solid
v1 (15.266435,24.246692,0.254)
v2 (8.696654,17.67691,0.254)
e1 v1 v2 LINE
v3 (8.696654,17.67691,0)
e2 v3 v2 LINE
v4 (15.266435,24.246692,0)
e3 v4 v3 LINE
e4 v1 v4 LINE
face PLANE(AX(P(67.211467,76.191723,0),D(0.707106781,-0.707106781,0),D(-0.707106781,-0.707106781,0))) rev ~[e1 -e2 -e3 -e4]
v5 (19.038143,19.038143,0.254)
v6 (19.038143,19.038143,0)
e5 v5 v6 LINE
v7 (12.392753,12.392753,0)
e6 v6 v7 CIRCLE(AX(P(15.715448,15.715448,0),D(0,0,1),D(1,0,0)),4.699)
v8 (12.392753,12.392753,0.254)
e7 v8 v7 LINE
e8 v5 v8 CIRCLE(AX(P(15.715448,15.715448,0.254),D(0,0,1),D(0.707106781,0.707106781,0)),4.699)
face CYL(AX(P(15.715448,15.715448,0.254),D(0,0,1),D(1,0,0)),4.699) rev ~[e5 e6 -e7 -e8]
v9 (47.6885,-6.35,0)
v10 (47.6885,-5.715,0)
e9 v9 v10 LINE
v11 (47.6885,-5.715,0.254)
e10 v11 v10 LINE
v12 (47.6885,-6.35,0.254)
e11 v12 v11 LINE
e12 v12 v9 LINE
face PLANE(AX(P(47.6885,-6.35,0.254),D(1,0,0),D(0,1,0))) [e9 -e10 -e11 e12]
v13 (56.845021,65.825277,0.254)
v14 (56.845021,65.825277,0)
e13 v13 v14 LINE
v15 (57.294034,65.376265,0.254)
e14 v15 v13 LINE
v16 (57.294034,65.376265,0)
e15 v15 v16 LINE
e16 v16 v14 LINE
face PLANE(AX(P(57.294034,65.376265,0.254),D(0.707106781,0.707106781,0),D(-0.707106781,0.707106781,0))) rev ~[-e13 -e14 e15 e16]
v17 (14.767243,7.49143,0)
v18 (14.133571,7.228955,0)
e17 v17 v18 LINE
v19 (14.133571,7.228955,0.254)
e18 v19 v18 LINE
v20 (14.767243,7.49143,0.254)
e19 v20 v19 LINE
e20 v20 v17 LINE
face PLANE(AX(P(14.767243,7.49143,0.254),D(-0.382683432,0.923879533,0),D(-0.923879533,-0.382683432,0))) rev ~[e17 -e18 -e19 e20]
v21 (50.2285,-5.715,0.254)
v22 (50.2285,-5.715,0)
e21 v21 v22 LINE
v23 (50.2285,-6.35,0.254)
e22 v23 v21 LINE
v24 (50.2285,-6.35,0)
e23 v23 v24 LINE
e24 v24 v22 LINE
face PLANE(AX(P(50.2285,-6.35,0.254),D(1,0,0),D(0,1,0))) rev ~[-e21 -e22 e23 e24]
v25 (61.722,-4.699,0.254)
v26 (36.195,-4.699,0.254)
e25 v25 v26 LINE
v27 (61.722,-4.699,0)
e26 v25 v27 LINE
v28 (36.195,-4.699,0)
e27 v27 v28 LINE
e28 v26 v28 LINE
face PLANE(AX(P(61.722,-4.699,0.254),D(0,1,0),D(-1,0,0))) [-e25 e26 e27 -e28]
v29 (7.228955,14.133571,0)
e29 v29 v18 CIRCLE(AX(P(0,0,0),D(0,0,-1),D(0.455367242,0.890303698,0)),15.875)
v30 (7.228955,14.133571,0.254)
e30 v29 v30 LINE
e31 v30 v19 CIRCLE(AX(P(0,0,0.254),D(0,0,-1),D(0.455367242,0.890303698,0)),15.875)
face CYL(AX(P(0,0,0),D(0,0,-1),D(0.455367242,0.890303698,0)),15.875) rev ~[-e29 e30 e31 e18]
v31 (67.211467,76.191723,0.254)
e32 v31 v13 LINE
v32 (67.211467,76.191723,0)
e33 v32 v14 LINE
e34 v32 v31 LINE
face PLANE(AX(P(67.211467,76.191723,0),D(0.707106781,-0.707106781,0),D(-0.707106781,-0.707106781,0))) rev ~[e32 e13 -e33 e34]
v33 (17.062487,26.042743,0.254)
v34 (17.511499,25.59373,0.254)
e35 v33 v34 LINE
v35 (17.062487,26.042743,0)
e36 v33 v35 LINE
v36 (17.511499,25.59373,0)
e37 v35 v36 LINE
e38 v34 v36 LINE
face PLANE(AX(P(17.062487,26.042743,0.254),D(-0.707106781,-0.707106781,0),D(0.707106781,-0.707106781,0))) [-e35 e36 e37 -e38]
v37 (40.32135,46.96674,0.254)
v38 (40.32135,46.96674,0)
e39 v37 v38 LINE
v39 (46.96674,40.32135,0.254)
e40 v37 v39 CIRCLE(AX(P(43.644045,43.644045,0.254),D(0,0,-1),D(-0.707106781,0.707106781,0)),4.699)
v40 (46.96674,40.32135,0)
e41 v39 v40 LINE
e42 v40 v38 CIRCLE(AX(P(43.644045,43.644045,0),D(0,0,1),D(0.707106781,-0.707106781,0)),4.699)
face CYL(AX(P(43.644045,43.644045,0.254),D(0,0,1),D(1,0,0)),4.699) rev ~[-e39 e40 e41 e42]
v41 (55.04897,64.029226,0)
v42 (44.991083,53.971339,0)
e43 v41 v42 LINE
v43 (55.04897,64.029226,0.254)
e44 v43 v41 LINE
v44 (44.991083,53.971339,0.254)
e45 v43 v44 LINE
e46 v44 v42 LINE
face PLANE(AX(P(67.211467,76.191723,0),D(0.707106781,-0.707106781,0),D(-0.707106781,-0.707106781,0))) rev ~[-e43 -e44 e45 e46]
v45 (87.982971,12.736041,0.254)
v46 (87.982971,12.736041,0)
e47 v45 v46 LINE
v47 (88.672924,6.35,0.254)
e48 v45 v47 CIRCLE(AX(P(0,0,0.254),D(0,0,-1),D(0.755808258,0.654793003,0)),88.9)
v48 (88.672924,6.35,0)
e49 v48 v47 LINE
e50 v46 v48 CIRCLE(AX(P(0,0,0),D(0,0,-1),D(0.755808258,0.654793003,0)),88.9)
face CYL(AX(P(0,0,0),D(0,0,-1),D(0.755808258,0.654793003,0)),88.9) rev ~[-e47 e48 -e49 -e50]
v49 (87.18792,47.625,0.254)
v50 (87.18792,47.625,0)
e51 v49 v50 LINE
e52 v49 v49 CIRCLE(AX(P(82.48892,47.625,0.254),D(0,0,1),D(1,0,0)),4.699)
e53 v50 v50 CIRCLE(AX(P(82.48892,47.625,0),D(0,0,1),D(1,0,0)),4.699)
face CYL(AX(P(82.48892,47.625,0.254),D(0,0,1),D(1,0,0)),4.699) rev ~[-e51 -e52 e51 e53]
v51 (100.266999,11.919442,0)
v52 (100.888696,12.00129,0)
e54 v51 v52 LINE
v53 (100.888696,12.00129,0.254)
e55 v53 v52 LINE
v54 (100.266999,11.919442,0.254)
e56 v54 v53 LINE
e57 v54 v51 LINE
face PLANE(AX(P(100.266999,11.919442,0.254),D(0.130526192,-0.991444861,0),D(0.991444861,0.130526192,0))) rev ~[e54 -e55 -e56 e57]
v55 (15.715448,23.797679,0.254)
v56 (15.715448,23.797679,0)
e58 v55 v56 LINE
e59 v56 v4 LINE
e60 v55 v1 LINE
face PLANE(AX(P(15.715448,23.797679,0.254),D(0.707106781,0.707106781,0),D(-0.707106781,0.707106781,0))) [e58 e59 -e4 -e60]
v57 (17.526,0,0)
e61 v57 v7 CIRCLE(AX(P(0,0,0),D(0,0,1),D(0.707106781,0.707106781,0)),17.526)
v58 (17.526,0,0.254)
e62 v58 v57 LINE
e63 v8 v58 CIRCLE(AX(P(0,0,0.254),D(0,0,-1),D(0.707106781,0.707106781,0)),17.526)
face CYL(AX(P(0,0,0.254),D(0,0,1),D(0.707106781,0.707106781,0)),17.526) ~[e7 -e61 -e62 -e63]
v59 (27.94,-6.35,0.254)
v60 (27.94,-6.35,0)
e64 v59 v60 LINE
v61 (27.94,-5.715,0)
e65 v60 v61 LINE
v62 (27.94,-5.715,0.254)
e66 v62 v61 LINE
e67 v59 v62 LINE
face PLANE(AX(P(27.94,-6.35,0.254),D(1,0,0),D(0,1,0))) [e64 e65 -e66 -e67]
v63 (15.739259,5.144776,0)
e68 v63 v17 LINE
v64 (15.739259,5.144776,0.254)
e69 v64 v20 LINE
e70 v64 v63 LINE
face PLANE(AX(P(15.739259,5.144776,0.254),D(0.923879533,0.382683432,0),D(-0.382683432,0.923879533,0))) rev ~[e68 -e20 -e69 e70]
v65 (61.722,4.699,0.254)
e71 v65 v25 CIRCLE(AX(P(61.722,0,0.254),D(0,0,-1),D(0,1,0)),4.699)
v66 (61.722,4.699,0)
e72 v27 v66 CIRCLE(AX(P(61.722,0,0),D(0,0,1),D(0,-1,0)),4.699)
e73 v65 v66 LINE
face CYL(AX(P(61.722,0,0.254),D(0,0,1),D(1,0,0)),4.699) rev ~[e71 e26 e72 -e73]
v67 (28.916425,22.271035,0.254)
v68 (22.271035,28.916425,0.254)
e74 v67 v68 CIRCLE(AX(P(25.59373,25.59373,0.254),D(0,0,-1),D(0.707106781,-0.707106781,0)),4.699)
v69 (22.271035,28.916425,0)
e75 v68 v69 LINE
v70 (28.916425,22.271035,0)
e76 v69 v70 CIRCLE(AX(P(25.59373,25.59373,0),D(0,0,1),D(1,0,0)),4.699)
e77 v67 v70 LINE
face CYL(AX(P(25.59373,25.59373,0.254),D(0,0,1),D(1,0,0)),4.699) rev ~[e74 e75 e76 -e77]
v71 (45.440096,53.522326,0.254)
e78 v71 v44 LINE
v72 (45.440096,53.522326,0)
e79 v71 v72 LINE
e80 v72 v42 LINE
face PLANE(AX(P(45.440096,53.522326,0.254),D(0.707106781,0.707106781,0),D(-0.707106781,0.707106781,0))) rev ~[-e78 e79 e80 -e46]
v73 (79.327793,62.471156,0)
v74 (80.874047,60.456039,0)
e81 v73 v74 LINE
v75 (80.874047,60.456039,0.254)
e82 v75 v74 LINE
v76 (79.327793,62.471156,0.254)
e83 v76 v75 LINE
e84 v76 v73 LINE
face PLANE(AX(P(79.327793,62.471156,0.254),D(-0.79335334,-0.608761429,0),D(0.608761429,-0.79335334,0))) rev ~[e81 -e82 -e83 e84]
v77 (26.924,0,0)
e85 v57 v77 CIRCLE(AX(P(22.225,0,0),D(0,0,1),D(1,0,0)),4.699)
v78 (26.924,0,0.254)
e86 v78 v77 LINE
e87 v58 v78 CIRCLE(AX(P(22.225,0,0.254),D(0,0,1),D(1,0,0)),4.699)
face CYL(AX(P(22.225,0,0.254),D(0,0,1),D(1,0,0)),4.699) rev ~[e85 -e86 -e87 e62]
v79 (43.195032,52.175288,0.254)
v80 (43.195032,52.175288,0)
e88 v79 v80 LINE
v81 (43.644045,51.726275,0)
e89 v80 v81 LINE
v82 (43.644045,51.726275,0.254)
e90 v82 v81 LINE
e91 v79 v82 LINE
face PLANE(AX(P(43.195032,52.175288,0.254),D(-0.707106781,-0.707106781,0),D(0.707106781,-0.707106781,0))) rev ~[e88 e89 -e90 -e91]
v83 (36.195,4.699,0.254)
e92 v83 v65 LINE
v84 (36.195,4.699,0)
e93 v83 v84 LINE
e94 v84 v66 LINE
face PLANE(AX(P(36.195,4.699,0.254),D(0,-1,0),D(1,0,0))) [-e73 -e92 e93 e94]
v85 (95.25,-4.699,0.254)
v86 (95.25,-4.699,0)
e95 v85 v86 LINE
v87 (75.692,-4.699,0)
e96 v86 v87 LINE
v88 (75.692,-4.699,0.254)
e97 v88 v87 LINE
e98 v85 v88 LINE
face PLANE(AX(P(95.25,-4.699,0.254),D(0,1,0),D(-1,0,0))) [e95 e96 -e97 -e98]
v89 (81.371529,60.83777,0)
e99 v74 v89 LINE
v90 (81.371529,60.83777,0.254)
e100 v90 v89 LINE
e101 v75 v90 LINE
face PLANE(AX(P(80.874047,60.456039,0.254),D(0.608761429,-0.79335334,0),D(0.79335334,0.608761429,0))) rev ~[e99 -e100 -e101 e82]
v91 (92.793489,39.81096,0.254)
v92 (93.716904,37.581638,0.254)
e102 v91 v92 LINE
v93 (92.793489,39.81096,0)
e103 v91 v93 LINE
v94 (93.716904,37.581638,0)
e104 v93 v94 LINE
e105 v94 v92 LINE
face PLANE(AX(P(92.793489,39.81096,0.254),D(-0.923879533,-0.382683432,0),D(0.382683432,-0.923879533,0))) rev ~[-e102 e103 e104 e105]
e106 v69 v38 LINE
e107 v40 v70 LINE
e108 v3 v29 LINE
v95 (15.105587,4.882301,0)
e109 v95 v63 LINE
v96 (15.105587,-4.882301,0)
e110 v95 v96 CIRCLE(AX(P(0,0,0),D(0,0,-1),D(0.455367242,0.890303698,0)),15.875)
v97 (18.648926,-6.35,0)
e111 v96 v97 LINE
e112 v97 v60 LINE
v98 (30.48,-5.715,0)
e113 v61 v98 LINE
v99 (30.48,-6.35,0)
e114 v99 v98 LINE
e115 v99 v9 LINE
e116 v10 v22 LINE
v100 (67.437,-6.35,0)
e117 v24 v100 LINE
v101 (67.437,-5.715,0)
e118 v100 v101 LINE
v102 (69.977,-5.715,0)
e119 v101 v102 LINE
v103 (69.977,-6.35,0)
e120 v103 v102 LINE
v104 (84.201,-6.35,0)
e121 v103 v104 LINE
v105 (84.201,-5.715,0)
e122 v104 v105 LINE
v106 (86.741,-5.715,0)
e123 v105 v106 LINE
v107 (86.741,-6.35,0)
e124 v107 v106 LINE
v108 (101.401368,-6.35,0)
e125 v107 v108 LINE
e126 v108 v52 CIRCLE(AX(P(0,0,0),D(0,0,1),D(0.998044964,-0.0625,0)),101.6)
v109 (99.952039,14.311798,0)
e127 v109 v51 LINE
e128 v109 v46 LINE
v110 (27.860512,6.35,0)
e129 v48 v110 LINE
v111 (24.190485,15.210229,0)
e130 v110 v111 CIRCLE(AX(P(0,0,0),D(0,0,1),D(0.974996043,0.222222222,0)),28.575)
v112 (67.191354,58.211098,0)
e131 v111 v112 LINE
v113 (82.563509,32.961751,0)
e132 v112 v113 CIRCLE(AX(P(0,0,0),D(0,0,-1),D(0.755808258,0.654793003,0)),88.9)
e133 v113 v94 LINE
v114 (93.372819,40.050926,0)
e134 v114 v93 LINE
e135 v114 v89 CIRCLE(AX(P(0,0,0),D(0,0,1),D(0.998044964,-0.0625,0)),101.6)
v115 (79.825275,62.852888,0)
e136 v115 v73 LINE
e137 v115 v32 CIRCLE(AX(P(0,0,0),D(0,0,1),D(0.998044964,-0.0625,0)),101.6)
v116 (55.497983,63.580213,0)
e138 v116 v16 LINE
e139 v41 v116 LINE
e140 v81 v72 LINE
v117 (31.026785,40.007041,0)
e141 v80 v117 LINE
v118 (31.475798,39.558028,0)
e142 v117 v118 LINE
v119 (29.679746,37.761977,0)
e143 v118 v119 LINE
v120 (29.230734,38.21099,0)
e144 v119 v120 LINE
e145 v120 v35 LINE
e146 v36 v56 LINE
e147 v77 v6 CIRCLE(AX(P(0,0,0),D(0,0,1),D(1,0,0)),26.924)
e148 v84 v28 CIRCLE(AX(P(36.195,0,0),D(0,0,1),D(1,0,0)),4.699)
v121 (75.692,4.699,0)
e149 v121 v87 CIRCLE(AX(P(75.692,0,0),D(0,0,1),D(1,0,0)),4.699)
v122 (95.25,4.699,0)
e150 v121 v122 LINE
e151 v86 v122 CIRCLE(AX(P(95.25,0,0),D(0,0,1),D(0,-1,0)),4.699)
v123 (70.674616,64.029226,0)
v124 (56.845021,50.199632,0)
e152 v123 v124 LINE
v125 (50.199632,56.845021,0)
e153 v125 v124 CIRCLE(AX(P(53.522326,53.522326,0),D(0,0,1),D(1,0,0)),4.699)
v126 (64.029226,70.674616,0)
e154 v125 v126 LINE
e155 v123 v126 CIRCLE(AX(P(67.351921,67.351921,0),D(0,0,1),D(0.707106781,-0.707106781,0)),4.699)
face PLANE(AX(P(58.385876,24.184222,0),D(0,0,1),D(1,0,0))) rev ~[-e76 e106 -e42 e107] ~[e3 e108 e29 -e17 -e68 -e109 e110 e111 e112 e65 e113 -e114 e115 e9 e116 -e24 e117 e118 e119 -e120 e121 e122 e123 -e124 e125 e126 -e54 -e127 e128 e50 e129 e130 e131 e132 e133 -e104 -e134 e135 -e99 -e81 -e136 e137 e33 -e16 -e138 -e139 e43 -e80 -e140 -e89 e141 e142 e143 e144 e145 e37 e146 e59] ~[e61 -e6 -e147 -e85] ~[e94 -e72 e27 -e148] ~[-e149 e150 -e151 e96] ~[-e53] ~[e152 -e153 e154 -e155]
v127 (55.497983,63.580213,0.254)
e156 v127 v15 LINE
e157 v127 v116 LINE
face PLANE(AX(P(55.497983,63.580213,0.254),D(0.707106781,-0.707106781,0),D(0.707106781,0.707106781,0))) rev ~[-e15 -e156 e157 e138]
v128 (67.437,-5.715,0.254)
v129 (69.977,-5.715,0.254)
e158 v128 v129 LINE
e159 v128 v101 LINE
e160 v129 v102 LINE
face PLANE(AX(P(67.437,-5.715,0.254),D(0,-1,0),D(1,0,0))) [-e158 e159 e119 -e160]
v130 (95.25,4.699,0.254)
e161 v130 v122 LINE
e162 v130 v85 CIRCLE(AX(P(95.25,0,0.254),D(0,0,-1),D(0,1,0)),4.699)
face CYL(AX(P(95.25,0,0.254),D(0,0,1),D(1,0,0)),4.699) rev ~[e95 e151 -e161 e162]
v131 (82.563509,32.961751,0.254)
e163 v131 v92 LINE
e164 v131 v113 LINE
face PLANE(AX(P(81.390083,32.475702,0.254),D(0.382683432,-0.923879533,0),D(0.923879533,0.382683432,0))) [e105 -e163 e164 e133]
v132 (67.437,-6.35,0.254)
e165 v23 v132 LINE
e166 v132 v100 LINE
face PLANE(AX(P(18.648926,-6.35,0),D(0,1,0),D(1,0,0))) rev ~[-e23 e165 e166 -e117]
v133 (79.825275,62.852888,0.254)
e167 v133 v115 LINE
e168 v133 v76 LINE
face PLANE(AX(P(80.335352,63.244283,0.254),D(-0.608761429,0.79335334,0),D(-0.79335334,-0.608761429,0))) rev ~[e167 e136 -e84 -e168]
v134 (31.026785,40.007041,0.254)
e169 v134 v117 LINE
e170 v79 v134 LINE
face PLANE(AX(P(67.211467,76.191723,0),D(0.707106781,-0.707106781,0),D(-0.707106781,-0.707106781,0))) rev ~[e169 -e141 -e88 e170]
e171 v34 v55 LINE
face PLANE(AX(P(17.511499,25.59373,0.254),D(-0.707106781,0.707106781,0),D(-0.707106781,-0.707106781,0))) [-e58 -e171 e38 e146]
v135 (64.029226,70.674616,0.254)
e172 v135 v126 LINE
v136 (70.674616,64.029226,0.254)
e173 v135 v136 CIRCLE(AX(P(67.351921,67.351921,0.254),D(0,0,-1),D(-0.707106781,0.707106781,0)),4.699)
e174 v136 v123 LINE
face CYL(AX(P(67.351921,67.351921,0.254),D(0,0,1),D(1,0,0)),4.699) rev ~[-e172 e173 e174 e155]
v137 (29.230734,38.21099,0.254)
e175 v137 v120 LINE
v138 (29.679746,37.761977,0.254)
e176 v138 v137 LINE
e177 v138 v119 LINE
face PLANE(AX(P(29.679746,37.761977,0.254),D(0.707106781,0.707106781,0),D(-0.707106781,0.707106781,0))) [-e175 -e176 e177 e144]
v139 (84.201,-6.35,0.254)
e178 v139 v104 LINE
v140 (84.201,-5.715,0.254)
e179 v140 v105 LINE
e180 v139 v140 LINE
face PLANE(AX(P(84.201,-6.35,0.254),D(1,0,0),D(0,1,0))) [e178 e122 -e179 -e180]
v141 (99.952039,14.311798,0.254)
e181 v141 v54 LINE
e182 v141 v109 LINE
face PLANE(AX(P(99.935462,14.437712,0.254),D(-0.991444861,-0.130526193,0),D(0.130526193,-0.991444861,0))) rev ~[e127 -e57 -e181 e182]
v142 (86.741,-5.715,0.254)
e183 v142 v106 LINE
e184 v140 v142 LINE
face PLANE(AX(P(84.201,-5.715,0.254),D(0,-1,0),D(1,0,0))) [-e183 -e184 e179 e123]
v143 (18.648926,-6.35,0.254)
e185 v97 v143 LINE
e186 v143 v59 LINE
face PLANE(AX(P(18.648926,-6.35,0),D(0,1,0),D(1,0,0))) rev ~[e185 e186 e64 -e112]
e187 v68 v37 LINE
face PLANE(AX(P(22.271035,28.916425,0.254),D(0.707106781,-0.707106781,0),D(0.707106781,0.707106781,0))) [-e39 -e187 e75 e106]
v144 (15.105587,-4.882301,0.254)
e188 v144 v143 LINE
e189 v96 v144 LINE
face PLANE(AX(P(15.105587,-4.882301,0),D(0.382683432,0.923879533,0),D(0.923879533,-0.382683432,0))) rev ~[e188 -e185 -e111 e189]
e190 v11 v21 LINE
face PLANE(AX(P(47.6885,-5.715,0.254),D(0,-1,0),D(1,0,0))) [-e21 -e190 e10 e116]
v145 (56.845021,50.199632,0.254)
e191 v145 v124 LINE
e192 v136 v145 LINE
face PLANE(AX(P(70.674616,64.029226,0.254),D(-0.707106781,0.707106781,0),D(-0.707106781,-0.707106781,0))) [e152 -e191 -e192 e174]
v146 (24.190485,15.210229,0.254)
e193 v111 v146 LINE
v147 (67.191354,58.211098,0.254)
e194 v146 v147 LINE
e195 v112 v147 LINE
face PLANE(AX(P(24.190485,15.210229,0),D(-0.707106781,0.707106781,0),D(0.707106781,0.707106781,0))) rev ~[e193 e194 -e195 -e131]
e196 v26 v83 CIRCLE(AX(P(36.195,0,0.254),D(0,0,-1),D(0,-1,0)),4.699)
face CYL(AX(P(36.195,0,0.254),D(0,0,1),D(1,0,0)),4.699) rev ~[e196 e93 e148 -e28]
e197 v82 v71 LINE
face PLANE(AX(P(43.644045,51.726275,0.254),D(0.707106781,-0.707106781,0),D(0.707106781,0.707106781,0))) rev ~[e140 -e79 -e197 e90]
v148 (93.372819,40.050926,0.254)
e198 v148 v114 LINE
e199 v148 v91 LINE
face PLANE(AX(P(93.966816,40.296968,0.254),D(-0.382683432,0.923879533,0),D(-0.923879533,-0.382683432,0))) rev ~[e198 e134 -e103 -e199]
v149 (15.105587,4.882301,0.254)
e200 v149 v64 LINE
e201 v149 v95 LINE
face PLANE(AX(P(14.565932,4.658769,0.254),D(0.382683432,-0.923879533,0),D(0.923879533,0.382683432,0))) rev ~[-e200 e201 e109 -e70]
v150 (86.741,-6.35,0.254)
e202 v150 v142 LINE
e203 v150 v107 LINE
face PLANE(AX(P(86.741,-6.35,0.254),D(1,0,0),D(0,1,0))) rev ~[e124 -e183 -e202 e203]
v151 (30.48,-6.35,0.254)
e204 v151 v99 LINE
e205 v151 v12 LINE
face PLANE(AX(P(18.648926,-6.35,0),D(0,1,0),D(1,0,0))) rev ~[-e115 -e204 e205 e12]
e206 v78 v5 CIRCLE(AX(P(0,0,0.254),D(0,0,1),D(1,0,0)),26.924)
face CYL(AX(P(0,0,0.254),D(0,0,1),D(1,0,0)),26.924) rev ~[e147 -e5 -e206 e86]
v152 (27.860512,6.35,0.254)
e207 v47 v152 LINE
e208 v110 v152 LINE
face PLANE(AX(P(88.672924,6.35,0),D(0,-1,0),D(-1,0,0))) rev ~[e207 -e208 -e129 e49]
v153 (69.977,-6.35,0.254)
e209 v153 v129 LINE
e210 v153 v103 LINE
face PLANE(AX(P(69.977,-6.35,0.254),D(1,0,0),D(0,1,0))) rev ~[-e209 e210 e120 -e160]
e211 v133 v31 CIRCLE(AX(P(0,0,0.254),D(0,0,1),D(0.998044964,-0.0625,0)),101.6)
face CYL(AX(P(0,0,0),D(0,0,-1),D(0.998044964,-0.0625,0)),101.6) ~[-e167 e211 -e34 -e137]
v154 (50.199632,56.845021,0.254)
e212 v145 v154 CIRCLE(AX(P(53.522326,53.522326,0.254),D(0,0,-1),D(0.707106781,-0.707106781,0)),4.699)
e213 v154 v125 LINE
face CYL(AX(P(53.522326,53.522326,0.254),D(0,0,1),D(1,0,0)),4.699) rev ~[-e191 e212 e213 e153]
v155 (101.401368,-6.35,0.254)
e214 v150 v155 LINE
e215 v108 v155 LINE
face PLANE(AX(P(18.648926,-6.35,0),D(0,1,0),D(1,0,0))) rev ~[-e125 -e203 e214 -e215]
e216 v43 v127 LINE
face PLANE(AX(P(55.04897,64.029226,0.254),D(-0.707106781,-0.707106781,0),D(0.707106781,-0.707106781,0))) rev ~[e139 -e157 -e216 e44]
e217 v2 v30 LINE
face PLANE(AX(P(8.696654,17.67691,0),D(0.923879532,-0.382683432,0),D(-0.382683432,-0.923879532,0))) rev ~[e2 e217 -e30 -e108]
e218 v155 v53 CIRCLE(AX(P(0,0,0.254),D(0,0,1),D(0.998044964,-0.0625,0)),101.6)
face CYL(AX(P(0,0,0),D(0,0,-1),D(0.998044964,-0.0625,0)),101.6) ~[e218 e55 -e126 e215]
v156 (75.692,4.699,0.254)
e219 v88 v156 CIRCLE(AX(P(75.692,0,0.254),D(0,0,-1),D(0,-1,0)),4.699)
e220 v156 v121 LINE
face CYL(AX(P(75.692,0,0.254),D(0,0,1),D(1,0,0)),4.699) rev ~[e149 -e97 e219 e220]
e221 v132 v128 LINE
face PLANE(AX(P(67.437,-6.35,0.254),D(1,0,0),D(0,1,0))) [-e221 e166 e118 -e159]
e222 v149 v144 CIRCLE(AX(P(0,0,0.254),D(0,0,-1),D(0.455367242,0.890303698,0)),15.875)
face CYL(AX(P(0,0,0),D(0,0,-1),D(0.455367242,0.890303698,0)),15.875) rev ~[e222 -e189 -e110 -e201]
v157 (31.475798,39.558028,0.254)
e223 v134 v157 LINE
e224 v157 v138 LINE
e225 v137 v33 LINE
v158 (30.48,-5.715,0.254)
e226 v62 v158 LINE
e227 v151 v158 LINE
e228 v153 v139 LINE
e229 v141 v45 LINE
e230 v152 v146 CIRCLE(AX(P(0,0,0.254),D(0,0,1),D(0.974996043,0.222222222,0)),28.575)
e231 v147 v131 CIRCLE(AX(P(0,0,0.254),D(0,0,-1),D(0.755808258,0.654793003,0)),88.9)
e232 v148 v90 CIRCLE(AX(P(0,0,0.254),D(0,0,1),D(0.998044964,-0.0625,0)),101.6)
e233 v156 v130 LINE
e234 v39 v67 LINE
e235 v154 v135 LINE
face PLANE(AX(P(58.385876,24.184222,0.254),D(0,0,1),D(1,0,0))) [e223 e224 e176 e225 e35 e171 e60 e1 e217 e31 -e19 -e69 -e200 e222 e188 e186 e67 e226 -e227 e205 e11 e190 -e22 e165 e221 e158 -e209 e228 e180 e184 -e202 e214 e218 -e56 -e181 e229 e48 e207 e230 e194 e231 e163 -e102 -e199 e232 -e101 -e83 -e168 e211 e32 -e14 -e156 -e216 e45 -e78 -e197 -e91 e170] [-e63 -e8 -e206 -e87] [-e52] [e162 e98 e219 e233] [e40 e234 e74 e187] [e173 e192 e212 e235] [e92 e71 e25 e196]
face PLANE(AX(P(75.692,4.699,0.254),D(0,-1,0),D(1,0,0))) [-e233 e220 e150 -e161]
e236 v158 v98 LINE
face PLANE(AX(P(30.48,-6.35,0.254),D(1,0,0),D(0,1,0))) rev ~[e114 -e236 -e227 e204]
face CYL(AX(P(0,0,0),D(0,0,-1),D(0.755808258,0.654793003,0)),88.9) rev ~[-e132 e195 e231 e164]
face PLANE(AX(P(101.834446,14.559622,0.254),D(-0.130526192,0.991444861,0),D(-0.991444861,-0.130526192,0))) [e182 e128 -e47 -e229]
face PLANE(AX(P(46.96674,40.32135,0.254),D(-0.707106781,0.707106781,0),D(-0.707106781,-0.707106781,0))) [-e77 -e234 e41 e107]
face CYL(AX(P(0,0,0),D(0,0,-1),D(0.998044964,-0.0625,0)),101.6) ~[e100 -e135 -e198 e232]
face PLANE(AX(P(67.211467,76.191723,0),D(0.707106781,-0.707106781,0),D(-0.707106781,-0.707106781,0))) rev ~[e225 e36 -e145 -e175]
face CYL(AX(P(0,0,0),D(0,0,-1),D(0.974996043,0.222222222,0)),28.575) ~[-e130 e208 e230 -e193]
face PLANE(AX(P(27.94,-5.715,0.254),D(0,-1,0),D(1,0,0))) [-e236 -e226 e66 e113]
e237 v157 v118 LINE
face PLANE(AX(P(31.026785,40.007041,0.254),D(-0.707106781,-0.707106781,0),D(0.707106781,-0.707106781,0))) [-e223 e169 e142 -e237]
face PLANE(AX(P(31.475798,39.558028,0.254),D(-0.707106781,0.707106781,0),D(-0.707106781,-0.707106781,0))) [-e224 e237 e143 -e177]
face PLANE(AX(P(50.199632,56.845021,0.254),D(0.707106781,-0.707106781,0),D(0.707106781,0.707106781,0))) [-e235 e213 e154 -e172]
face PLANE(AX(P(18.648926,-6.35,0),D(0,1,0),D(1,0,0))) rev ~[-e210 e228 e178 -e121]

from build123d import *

# Parameters (mm, degrees)
BOSS_EXTRUDE1_DEPTH = 0.254
SKETCH2_R           = 4.699
CUT_EXTRUDE1_DEPTH  = 1.254
SKETCH3_W           = 2.54
SKETCH3_H           = 0.635
CUT_EXTRUDE2_DEPTH  = 1.254
CUT_EXTRUDE4_DEPTH  = 1.254
CUT_EXTRUDE5_DEPTH  = 1.254


with BuildPart() as part:
    # Sketch1 → Boss-Extrude1 (new body)
    with BuildSketch(Plane.XY):
        with BuildLine():
            Line((67.21146711, 76.191723231), (8.696654013, 17.676910134))
            Line((8.696654013, 17.676910134), (7.228954972, 14.133571205))
            ThreePointArc((7.228954972, 14.133571205), (14.666587579, 6.075099489), (15.105587123, -4.88230096))
            Line((15.105587123, -4.88230096), (18.648926052, -6.35))
            Line((18.648926052, -6.35), (101.401368334, -6.35))
            ThreePointArc((101.401368334, -6.35), (93.866160503, 38.880636728), (67.21146711, 76.191723231))
        make_face()
        with BuildLine():
            Line((88.672924278, 6.35), (27.86051193, 6.35))
            ThreePointArc((27.86051193, 6.35), (26.399857642, 10.93517908), (24.190484974, 15.210228852))
            Line((24.190484974, 15.210228852), (67.191354125, 58.211098004))
            ThreePointArc((67.191354125, 58.211098004), (82.13289044, 34.020557137), (88.672924278, 6.35))
        make_face(mode=Mode.SUBTRACT)
    extrude(amount=BOSS_EXTRUDE1_DEPTH)

    # Sketch2 → Cut-Extrude1 (cut, through all)
    with BuildSketch(Plane.XY.offset(0.254)):
        with Locations((22.225, 0)):
            Circle(SKETCH2_R)
        with Locations((36.195, 0)):
            Circle(SKETCH2_R)
        with Locations((61.722, 0)):
            Circle(SKETCH2_R)
        with Locations((75.692, 0)):
            Circle(SKETCH2_R)
        with Locations((95.25, 0)):
            Circle(SKETCH2_R)
        with Locations((15.715448212, 15.715448212)):
            Circle(SKETCH2_R)
        with Locations((25.593729945, 25.593729945)):
            Circle(SKETCH2_R)
        with Locations((43.644044748, 43.644044748)):
            Circle(SKETCH2_R)
        with Locations((53.522326482, 53.522326482)):
            Circle(SKETCH2_R)
        with Locations((92.004434954, 24.652514046)):
            Circle(SKETCH2_R)
        with Locations((82.48891971, 47.625)):
            Circle(SKETCH2_R)
        with Locations((67.351920908, 67.351920908)):
            Circle(SKETCH2_R)
    extrude(amount=-CUT_EXTRUDE1_DEPTH, mode=Mode.SUBTRACT)

    # Sketch3 → Cut-Extrude2 (cut, through all)
    with BuildSketch(Plane.XY.offset(0.254)):
        Polygon((15.266435406, 24.246691527), (17.06248663, 26.042742751), (17.511499436, 25.593729945), (15.715448212, 23.797678721), align=None)
        Polygon((44.991083167, 53.971339288), (43.195031942, 52.175288063), (43.644044748, 51.726275257), (45.440095973, 53.522326482), align=None)
        with Locations((29.21, -6.0325)):
            Rectangle(SKETCH3_W, SKETCH3_H)
        with Locations((68.707, -6.0325)):
            Rectangle(SKETCH3_W, SKETCH3_H)
        Polygon((29.230733674, 38.210989795), (31.026784898, 40.007041019), (31.475797704, 39.558028213), (29.67974648, 37.761976989), align=None)
        Polygon((56.845021246, 65.825277367), (55.048970022, 64.029226143), (55.497982828, 63.580213337), (57.294034052, 65.376264561), align=None)
        with Locations((48.9585, -6.0325)):
            Rectangle(SKETCH3_W, SKETCH3_H)
        with Locations((85.471, -6.0325)):
            Rectangle(SKETCH3_W, SKETCH3_H)
        Polygon((99.935462164, 14.437711971), (100.266998693, 11.919442024), (101.526133667, 12.085210288), (101.194597138, 14.603480236), align=None)
        Polygon((93.765504959, 37.464305742), (94.938831965, 37.950313702), (93.966816047, 40.296967714), (92.793489041, 39.810959755), align=None)
        Polygon((79.327792988, 62.471156422), (80.874047017, 60.456038938), (81.88160576, 61.229165953), (80.33535173, 63.244283437), align=None)
        Polygon((13.593916116, 7.005422516), (14.565932035, 4.658768503), (15.739259041, 5.144776462), (14.767243123, 7.491430475), align=None)
    extrude(amount=-CUT_EXTRUDE2_DEPTH, mode=Mode.SUBTRACT)

    # Sketch6 → Cut-Extrude4 (cut, through all)
    with BuildSketch(Plane.XY.offset(0.254)):
        with BuildLine():
            Line((22.27103518, 28.91642471), (40.321349984, 46.966739513))
            ThreePointArc((40.321349984, 46.966739513), (46.966739513, 46.966739513), (46.966739513, 40.321349984))
            Line((46.966739513, 40.321349984), (28.91642471, 22.27103518))
            ThreePointArc((28.91642471, 22.27103518), (22.27103518, 22.27103518), (22.27103518, 28.91642471))
        make_face()
        with BuildLine():
            Line((50.199631717, 56.845021246), (64.029226143, 70.674615673))
            ThreePointArc((64.029226143, 70.674615673), (70.674615673, 70.674615673), (70.674615673, 64.029226143))
            Line((70.674615673, 64.029226143), (56.845021246, 50.199631717))
            ThreePointArc((56.845021246, 50.199631717), (50.199631717, 50.199631717), (50.199631717, 56.845021246))
        make_face()
        with BuildLine():
            Line((61.722, -4.699), (36.195, -4.699))
            ThreePointArc((36.195, -4.699), (31.496, 0), (36.195, 4.699))
            Line((36.195, 4.699), (61.722, 4.699))
            ThreePointArc((61.722, 4.699), (66.421, 0), (61.722, -4.699))
        make_face()
        with BuildLine():
            Line((95.25, -4.699), (75.692, -4.699))
            ThreePointArc((75.692, -4.699), (70.993, 0), (75.692, 4.699))
            Line((75.692, 4.699), (95.25, 4.699))
            ThreePointArc((95.25, 4.699), (99.949, 0), (95.25, -4.699))
        make_face()
        with BuildLine():
            ThreePointArc((26.924, 0), (24.874532533, 10.303368733), (19.038142977, 19.038142977))
            ThreePointArc((19.038142977, 19.038142977), (12.392753447, 19.038142977), (12.392753447, 12.392753447))
            ThreePointArc((12.392753447, 12.392753447), (16.191912687, 6.706909836), (17.526, 0))
            ThreePointArc((17.526, 0), (22.225, -4.699), (26.924, 0))
        make_face()
    extrude(amount=-CUT_EXTRUDE4_DEPTH, mode=Mode.SUBTRACT)

    # Sketch5 → Cut-Extrude5 (cut, through all)
    with BuildSketch(Plane.XY.offset(0.254)):
        with BuildLine():
            Line((81.390083385, 32.475702096), (95.471027857, 38.308220267))
            ThreePointArc((95.471027857, 38.308220267), (99.36478975, 26.62471517), (101.834445583, 14.559622003))
            Line((101.834445583, 14.559622003), (86.723730875, 12.570258672))
            ThreePointArc((86.723730875, 12.570258672), (84.644080158, 22.680312922), (81.390083385, 32.475702096))
        make_face()
    extrude(amount=-CUT_EXTRUDE5_DEPTH, mode=Mode.SUBTRACT)


solid = part.part
